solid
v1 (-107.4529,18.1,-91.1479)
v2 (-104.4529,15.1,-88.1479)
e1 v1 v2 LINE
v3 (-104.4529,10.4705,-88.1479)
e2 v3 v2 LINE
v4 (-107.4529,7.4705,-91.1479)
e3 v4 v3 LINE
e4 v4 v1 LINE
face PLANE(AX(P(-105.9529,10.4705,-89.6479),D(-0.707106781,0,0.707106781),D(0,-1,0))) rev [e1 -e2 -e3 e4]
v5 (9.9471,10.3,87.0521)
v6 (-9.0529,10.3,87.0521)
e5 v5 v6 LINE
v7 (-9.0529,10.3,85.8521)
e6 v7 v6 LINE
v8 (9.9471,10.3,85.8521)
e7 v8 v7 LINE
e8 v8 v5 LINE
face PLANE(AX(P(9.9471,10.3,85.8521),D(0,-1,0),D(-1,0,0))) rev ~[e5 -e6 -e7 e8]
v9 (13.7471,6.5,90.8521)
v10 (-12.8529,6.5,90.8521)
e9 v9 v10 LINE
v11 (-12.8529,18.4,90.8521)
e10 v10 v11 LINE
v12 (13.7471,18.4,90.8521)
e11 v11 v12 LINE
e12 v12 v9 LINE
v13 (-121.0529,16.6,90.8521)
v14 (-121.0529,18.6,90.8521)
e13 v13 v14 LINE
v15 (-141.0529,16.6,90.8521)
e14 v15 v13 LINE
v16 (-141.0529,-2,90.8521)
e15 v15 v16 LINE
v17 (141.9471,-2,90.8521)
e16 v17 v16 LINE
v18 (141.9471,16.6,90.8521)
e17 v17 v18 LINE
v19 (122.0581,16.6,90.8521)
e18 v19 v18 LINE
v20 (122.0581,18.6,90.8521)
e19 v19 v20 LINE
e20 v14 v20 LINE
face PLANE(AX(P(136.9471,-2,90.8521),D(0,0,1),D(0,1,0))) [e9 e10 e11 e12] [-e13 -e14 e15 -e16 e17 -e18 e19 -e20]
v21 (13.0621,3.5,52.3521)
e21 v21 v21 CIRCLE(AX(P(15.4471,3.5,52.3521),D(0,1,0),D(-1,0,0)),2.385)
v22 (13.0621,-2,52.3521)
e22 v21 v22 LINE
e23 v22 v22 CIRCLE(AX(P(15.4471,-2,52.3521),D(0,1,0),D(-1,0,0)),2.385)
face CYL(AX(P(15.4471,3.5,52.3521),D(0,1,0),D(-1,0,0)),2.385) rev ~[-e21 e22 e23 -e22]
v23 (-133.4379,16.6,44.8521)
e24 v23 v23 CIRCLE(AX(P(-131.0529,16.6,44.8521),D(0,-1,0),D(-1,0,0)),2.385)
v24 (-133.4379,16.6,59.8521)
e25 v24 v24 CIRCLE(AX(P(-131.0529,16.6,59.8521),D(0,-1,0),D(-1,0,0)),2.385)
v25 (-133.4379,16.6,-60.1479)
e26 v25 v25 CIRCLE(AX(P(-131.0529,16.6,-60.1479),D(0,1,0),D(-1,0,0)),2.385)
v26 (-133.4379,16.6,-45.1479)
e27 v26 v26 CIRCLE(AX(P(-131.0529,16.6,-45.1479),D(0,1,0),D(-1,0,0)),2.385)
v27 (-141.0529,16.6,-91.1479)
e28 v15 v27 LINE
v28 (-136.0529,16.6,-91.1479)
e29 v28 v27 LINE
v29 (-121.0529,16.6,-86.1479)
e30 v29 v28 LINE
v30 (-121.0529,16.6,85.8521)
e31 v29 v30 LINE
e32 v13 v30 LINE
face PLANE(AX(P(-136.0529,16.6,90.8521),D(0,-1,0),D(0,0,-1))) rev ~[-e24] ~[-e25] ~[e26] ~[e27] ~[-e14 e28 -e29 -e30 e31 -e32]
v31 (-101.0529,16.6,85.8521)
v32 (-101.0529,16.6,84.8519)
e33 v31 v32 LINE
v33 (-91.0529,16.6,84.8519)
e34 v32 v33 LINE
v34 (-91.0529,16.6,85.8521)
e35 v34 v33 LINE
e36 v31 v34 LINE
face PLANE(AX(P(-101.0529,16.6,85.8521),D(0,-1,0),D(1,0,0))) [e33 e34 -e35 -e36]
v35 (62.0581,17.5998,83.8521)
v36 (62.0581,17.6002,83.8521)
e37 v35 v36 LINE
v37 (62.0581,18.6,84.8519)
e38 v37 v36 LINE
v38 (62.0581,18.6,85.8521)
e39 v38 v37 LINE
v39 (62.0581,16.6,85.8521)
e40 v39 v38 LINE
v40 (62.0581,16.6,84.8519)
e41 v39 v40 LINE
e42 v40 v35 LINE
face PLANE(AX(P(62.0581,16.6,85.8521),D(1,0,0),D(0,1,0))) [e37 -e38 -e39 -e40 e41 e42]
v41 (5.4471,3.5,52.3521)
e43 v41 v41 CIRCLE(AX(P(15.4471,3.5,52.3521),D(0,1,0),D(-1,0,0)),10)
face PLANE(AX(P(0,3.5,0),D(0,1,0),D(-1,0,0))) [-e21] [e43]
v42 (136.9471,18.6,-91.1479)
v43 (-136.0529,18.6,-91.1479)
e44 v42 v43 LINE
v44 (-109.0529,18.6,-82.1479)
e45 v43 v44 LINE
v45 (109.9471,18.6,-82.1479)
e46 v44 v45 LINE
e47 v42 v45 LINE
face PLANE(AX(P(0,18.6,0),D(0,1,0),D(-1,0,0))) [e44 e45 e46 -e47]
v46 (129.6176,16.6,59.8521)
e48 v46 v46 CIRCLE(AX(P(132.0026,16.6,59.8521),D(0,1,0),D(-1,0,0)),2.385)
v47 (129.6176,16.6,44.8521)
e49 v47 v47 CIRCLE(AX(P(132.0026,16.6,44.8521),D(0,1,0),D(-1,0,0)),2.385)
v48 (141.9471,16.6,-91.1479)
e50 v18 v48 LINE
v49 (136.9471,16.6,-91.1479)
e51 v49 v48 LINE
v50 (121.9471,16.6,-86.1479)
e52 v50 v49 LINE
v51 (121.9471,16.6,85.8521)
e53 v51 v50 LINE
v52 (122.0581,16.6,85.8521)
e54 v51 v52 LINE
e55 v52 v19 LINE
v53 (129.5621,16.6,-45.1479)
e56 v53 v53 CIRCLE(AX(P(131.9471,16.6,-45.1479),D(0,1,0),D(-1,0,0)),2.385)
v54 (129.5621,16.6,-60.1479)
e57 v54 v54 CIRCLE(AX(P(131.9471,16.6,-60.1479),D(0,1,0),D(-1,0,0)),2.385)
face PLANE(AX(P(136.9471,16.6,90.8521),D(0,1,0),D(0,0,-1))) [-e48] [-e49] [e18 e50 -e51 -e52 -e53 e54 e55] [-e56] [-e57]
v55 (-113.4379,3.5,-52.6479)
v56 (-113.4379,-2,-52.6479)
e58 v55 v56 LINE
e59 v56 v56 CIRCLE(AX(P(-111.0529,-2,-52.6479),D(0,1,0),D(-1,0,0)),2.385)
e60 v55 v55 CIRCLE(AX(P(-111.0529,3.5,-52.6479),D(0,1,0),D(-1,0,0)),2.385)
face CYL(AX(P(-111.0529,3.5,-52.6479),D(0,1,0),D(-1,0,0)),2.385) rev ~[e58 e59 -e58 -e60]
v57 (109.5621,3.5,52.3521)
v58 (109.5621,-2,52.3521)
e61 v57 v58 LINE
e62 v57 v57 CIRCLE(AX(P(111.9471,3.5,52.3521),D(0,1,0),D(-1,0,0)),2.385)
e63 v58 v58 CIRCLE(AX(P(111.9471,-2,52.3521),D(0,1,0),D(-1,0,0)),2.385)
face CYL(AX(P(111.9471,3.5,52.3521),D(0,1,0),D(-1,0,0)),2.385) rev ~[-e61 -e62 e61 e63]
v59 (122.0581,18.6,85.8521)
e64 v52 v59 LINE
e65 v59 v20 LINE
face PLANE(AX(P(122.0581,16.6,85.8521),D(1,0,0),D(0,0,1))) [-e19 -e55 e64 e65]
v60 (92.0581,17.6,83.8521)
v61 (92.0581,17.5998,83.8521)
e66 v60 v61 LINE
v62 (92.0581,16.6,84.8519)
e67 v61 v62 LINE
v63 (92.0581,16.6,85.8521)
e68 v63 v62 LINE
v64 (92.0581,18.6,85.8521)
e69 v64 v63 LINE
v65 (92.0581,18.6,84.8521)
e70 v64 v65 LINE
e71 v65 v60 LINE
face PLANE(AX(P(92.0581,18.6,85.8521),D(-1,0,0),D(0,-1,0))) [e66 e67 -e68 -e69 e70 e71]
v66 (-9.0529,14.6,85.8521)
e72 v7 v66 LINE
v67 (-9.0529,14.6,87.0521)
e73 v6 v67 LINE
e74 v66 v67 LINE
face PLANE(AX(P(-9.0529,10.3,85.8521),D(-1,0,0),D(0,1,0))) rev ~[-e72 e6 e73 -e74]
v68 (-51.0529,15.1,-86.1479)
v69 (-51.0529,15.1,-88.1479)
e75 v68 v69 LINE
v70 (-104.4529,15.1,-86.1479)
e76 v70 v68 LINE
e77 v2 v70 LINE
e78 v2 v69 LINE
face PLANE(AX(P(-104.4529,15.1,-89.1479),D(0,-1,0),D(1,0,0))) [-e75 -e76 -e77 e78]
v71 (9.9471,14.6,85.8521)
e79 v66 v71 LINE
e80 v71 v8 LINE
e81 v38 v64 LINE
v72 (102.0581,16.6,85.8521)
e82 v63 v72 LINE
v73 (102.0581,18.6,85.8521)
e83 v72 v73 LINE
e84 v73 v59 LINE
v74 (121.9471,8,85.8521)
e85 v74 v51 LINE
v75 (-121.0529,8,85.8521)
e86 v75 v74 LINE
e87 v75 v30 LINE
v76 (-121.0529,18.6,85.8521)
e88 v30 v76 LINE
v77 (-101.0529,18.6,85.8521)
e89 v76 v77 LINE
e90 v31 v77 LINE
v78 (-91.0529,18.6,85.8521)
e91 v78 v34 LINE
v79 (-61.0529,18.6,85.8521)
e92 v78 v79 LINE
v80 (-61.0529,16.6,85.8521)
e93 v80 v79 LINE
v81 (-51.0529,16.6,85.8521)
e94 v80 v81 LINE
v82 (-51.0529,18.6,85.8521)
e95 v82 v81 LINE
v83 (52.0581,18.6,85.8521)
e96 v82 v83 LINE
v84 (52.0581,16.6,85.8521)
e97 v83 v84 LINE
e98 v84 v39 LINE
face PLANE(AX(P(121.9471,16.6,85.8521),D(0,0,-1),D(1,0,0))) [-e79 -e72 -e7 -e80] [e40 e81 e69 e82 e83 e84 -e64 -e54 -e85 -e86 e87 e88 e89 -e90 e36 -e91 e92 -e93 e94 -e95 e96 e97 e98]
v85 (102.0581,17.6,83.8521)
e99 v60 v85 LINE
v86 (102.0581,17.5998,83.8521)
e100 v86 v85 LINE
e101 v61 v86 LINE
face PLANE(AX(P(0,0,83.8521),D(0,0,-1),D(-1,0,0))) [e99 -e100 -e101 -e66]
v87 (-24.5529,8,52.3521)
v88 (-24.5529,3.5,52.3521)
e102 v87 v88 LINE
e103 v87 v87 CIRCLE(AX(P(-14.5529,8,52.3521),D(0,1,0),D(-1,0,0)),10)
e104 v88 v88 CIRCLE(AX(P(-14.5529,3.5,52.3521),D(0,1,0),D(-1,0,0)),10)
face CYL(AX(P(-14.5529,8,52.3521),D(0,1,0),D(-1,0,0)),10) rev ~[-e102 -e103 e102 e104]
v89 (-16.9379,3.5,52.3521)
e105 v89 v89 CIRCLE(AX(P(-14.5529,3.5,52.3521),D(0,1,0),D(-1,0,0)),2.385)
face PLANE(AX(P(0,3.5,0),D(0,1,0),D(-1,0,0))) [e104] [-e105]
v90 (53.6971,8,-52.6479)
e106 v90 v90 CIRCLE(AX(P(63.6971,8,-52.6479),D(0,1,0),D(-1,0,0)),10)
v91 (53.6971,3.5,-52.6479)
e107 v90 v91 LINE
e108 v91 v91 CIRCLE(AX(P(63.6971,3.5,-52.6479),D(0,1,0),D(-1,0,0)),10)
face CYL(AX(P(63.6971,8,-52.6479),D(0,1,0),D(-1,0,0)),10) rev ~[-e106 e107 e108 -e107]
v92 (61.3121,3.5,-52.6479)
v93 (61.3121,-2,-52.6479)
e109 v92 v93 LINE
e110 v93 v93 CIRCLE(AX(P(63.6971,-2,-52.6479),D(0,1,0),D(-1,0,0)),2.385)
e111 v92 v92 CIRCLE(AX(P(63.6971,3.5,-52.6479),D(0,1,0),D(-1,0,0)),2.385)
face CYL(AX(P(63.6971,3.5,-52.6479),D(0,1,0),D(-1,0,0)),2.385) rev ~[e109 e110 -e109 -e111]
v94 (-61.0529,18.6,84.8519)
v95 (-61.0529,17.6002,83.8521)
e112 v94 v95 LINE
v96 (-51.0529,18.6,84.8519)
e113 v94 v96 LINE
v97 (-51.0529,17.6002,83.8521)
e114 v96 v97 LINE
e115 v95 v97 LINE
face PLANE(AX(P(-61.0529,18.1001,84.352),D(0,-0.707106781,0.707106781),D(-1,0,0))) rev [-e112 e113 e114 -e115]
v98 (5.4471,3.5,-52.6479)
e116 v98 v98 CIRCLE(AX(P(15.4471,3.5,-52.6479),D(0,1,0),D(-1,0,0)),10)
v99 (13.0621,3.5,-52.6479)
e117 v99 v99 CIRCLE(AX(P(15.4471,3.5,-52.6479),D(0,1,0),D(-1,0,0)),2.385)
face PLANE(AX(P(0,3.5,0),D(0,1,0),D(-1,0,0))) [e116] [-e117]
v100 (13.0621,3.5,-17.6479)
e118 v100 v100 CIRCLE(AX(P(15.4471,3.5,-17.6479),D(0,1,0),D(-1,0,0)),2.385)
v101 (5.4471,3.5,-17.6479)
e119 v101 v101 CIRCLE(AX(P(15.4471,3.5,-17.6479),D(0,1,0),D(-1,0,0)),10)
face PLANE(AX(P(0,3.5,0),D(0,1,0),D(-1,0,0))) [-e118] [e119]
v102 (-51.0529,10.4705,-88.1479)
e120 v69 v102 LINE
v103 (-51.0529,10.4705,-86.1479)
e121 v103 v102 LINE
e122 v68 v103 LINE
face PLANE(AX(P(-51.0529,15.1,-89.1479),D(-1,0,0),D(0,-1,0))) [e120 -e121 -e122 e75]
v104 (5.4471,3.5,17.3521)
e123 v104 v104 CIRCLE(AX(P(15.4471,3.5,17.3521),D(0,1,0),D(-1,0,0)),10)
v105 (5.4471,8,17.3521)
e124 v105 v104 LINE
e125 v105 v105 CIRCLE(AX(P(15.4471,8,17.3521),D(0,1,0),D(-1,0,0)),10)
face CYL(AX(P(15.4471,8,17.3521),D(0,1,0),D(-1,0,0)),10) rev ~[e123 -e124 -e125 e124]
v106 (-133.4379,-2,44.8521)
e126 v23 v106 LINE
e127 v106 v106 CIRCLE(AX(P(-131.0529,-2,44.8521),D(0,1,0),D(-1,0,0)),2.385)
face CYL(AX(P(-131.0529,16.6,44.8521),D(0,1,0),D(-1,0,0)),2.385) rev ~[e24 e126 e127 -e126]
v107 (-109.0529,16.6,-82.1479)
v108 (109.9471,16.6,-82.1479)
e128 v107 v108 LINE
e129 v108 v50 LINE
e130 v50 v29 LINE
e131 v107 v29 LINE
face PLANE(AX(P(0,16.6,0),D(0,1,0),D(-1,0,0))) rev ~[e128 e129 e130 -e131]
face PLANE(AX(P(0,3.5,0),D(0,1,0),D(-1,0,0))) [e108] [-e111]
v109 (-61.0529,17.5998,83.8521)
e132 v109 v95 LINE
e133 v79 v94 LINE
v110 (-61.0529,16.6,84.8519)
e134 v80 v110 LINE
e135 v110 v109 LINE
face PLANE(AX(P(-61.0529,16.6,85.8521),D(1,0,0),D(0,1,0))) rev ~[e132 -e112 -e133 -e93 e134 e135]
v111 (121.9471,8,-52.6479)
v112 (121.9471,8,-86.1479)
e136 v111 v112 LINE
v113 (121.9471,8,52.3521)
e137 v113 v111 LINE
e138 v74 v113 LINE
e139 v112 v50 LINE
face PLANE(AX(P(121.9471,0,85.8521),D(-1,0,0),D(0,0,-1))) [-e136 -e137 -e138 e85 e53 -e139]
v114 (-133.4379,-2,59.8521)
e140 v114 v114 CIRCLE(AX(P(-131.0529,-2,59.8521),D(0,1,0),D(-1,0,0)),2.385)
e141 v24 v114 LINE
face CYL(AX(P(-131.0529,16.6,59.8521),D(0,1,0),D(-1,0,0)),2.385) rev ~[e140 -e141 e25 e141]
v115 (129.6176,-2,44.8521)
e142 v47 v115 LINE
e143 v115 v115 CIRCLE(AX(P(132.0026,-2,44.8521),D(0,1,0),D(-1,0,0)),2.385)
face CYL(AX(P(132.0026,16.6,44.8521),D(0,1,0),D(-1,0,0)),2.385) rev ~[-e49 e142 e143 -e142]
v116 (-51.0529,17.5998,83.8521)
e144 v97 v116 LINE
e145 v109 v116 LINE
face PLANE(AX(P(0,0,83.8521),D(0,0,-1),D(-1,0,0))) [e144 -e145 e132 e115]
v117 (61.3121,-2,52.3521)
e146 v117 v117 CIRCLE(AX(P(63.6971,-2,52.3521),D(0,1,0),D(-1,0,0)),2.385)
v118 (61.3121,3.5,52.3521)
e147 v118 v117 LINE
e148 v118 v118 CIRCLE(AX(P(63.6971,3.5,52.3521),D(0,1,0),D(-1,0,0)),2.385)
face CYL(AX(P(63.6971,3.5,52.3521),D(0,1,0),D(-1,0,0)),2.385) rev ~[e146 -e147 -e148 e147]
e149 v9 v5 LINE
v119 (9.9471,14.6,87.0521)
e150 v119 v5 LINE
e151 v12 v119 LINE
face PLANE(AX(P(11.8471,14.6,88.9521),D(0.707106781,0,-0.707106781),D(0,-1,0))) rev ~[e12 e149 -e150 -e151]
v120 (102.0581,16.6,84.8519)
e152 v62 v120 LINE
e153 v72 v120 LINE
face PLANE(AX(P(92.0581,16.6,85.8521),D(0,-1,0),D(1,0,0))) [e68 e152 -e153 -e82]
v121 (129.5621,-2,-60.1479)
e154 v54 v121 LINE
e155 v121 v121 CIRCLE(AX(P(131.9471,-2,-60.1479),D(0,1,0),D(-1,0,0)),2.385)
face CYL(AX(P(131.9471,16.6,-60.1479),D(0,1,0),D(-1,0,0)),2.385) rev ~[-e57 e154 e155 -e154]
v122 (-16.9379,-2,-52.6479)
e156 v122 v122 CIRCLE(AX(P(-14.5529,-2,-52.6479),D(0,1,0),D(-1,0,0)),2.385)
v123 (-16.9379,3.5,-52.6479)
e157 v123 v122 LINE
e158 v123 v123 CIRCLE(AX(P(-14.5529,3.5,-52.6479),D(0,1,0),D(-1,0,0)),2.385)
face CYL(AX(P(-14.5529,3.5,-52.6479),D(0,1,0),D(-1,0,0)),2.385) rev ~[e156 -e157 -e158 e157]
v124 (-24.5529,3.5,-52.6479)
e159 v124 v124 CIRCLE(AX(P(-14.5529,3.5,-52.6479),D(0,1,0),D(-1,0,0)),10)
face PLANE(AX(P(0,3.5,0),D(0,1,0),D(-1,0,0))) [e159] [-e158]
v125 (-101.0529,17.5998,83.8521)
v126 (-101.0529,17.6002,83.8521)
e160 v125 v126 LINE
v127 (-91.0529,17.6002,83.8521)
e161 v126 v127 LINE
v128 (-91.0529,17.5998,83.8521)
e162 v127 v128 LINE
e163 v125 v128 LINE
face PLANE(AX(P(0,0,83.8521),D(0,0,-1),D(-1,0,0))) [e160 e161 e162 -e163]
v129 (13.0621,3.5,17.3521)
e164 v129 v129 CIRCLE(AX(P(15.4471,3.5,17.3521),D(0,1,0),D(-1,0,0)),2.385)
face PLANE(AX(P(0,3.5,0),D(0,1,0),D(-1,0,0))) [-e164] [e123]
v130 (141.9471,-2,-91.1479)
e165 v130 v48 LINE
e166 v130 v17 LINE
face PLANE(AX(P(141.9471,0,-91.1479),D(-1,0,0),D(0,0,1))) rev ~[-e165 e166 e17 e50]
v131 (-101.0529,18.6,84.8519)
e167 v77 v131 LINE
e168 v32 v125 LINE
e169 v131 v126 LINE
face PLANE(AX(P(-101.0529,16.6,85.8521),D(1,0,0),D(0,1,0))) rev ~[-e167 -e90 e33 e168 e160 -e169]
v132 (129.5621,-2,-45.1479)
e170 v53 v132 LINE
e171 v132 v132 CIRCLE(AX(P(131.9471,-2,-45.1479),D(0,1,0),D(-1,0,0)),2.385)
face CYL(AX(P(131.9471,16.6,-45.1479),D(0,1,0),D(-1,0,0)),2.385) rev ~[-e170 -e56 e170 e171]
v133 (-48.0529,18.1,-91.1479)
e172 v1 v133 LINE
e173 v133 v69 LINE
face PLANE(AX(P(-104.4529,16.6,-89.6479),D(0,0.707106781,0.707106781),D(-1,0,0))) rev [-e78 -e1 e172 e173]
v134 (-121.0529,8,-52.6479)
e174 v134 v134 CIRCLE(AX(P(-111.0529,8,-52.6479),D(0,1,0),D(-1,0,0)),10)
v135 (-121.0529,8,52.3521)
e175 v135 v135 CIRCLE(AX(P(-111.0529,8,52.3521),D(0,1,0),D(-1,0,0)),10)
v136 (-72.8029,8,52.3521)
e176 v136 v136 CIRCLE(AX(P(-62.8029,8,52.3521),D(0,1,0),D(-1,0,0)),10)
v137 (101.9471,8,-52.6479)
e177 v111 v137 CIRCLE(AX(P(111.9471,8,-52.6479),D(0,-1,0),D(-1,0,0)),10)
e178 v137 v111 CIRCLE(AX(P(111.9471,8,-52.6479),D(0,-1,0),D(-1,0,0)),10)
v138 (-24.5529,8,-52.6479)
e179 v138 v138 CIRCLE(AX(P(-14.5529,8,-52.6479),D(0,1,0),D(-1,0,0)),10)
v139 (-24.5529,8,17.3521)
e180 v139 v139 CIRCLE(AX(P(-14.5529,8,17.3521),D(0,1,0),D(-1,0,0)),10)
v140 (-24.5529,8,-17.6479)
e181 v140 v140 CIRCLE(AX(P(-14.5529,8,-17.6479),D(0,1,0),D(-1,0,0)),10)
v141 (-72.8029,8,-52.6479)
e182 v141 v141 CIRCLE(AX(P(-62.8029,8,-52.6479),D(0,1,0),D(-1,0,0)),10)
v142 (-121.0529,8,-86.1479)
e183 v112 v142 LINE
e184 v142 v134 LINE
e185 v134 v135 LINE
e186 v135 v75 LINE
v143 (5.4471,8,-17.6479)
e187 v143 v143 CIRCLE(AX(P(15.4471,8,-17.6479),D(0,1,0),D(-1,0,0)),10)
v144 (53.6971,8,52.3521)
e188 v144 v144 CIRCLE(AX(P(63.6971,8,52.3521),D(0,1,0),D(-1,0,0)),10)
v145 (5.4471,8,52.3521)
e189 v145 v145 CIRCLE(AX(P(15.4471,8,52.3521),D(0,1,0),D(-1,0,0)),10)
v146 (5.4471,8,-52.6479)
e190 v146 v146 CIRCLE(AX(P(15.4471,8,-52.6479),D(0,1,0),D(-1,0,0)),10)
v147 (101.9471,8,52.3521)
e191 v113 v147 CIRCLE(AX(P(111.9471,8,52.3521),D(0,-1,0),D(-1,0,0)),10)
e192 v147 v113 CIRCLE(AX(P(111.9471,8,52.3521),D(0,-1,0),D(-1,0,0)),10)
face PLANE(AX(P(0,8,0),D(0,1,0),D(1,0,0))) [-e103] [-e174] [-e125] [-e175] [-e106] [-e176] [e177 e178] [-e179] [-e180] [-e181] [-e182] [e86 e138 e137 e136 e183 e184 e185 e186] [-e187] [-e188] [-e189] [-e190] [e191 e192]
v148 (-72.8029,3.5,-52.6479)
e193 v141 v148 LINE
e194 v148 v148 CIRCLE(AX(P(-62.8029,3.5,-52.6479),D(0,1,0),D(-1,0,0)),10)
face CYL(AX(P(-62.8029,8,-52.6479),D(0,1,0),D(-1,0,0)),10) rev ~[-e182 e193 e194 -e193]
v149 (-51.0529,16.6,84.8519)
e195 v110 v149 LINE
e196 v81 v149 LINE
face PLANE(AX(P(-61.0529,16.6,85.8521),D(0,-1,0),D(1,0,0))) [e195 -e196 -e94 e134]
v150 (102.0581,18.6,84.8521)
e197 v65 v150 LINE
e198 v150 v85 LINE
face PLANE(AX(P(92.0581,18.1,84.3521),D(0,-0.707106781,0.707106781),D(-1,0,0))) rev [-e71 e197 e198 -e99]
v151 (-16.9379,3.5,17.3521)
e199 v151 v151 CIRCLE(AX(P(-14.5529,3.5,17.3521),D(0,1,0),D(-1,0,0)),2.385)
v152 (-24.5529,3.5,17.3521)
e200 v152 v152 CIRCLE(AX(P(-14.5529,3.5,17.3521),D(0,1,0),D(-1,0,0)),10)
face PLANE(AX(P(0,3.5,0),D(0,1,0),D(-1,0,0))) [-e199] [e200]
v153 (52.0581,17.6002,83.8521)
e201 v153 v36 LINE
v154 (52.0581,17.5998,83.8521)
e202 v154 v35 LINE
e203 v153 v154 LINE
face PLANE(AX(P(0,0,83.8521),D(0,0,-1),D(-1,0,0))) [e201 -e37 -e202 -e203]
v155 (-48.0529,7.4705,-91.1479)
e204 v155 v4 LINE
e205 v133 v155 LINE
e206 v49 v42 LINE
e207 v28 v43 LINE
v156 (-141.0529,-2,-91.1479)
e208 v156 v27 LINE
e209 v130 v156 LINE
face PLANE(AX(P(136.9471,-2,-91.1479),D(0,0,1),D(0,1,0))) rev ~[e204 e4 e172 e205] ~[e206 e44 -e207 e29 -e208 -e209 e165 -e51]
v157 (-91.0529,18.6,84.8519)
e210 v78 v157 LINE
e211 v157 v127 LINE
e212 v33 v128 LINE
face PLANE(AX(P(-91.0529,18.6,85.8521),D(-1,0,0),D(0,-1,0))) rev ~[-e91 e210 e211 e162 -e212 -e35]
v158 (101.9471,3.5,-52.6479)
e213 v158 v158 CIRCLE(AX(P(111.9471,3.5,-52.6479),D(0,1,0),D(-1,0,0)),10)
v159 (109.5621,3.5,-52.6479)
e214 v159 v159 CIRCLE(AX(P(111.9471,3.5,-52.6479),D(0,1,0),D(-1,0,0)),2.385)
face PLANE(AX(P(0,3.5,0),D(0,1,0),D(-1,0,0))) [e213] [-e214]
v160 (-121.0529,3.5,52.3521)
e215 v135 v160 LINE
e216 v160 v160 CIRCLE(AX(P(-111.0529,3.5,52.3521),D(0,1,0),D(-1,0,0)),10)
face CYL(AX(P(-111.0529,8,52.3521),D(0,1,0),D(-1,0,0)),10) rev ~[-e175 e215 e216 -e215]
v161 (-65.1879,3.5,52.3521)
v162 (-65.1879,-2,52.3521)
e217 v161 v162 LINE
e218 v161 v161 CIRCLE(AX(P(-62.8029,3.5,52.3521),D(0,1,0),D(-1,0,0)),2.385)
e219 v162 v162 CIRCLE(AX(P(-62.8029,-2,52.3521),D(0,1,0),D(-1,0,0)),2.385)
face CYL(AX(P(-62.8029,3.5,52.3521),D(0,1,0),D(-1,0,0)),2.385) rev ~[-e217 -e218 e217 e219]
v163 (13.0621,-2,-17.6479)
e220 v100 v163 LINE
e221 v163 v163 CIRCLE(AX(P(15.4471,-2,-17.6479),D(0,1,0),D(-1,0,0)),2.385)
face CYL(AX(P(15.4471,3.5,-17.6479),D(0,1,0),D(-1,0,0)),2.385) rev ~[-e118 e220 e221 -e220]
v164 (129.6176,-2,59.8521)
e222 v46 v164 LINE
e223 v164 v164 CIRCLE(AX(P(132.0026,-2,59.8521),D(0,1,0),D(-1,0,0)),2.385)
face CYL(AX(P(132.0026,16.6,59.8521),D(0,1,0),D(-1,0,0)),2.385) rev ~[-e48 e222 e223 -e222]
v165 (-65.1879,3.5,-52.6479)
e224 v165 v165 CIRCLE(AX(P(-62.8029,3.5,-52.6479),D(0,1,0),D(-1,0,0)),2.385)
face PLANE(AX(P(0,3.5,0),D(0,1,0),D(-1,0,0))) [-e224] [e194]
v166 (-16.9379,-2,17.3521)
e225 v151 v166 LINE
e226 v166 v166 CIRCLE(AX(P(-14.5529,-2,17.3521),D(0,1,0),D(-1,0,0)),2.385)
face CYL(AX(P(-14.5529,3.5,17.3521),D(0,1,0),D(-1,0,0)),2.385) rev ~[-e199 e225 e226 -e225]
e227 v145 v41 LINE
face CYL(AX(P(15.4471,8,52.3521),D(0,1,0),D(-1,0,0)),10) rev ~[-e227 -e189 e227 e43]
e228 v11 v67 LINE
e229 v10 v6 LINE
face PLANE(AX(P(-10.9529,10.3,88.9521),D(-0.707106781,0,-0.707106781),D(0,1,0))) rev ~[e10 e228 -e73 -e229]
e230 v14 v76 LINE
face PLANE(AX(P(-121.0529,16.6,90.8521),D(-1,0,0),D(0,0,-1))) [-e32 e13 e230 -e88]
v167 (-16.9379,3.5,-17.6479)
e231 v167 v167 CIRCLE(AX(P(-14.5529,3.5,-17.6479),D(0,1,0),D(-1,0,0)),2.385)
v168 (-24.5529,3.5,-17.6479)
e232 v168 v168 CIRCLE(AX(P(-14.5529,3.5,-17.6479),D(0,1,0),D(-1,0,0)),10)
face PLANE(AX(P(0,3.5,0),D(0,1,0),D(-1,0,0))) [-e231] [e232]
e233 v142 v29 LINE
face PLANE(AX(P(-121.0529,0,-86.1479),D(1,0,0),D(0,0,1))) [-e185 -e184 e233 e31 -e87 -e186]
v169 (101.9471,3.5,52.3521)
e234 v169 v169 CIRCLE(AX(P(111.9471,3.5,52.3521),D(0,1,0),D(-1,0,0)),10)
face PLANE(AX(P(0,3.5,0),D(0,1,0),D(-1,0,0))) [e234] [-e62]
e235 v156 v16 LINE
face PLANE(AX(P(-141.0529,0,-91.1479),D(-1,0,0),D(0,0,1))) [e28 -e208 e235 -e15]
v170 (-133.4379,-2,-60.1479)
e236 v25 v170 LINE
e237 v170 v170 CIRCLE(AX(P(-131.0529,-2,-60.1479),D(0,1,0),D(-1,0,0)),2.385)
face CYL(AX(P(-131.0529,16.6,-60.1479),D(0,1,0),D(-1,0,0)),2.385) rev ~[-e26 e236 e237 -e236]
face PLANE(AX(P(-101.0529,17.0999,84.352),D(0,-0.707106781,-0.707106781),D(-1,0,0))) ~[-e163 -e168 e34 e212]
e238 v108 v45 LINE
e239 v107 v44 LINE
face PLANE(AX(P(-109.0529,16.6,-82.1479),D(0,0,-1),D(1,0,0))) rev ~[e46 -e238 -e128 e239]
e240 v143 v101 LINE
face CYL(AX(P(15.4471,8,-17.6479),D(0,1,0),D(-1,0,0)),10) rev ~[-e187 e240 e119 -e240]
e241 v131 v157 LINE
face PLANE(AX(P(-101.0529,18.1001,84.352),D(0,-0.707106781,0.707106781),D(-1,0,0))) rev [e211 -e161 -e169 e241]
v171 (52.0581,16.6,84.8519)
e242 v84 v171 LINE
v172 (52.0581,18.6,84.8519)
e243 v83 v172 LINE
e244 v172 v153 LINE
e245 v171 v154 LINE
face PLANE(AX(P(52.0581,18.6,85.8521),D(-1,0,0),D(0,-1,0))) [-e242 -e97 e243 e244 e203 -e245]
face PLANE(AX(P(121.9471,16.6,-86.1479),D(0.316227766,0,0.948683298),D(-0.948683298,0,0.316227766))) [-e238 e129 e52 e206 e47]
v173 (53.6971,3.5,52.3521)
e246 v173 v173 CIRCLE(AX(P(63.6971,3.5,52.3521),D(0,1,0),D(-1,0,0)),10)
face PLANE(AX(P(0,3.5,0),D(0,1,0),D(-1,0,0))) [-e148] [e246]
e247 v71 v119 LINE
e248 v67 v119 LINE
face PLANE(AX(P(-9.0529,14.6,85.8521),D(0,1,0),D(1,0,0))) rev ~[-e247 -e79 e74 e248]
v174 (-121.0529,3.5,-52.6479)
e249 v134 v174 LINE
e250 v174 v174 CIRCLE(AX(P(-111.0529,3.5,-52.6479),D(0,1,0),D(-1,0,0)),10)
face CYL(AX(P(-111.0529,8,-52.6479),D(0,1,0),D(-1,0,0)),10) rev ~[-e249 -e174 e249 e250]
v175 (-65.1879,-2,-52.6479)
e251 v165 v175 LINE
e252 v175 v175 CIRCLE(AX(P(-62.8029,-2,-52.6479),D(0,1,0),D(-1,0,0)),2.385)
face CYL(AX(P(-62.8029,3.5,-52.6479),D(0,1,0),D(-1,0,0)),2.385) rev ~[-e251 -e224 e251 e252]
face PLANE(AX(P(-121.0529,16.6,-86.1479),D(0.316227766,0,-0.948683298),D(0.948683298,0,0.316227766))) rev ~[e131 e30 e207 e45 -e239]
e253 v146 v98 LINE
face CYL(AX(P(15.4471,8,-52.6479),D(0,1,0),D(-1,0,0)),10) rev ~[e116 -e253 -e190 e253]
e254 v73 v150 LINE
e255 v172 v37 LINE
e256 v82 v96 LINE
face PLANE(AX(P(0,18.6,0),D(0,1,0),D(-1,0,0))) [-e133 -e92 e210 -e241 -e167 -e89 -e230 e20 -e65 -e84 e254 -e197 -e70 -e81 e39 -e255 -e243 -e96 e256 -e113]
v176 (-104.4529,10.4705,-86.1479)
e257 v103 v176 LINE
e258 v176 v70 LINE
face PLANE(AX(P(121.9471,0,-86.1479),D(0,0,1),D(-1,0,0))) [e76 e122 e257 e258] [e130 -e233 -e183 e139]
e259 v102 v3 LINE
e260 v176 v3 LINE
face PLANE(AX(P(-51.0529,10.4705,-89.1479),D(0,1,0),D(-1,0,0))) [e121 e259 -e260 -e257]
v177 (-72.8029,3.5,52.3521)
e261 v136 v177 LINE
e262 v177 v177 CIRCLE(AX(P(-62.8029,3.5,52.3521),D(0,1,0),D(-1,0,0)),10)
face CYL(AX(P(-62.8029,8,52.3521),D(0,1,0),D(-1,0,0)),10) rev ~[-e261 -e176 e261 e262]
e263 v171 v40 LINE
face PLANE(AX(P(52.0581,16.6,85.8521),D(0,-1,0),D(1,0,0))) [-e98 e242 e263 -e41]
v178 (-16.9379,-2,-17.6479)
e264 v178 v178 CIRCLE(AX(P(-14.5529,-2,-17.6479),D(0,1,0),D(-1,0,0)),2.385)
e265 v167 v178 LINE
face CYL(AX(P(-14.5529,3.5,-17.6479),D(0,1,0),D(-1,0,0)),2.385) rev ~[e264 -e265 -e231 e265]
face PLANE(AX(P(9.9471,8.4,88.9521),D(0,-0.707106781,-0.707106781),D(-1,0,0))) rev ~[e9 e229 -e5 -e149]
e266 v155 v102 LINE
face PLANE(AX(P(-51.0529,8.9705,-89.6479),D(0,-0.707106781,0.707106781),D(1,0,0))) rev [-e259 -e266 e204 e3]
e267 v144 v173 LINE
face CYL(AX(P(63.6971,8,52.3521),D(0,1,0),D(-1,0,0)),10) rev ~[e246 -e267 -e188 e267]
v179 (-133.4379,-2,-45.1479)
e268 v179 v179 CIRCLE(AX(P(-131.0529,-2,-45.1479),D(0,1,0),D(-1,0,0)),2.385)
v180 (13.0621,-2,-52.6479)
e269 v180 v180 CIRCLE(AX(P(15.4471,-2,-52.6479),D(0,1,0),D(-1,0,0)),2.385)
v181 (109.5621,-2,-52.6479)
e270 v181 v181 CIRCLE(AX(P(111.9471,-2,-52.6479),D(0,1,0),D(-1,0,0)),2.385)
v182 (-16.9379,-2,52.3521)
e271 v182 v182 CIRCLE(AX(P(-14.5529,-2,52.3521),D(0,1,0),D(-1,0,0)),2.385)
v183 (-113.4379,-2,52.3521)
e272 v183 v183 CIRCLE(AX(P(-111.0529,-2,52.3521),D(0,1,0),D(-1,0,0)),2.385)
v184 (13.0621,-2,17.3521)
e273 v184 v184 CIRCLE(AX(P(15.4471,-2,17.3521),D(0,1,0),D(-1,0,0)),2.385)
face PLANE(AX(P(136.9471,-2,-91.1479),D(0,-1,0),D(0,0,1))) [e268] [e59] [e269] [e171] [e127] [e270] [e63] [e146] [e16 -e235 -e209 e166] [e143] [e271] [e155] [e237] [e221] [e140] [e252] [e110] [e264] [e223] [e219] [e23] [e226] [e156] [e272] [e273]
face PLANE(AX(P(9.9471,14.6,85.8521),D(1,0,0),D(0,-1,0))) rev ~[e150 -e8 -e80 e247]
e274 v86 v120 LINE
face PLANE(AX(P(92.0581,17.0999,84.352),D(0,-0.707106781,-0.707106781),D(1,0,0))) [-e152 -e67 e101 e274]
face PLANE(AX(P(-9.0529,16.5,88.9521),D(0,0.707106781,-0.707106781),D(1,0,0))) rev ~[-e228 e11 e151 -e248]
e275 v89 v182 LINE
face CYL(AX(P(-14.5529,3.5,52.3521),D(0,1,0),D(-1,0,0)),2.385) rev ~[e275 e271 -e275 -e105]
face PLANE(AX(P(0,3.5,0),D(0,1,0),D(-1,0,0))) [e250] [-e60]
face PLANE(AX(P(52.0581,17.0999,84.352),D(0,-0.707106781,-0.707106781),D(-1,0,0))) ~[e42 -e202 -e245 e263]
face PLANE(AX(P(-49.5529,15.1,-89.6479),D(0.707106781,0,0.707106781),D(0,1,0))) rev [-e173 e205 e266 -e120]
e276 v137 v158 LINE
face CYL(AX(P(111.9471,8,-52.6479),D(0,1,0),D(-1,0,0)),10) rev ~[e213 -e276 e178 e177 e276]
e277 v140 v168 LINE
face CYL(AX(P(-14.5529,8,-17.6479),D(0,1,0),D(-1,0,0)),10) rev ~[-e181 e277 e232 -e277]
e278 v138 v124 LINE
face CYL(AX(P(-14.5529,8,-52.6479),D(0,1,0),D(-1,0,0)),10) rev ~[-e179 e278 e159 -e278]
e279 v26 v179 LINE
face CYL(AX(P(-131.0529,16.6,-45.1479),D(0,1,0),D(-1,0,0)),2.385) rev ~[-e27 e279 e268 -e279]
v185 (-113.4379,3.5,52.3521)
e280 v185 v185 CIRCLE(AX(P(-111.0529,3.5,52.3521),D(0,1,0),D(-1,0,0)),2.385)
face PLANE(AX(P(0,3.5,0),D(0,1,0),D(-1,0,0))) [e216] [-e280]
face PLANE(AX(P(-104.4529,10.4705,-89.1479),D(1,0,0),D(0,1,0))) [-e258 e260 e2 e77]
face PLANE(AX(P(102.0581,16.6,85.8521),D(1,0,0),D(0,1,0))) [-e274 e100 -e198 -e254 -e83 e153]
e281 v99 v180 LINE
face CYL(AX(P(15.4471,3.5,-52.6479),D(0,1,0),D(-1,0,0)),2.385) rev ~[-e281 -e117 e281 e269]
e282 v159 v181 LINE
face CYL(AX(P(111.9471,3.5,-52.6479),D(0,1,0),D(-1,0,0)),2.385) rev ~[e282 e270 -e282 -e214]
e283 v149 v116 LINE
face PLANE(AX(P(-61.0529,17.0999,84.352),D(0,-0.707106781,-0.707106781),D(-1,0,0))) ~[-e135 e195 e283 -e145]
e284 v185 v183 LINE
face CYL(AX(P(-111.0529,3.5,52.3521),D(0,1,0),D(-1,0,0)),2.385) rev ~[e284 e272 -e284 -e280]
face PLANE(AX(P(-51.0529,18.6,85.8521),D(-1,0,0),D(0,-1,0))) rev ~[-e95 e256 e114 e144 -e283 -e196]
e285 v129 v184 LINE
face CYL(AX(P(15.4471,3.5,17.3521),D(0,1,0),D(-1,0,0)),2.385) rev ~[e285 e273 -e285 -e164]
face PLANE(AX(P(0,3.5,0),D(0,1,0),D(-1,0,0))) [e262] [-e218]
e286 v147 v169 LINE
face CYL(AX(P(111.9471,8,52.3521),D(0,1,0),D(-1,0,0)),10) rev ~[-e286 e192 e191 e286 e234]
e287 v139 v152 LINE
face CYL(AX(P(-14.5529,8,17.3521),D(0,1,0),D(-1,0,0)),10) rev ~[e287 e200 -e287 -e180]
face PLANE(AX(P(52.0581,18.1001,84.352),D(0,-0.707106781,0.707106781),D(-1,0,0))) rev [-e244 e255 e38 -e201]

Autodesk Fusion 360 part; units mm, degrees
sketch "Sketch1" plane through (0, 0, 0) normal (0, 1, 0) x (1, 0, 0)
  line L0 (-121.0529, -85.8521) -> (121.9471, -85.8521)
  line L1 (121.9471, -85.8521) -> (121.9471, 86.1479)
  line L2 (121.9471, 86.1479) -> (-121.0529, 86.1479)
  line L3 (-121.0529, 86.1479) -> (-121.0529, -85.8521)
  line L4 (-121.0529, -85.8521) -> (-121.0529, 86.1479)
  line L5 (121.9471, 86.1479) -> (-121.0529, 86.1479)
  line L6 (-121.0529, 86.1479) -> (-121.0529, 91.1479)
  line L7 (-121.0529, 91.1479) -> (121.9471, 91.1479)
  line L8 (121.9471, 91.1479) -> (121.9471, 86.1479)
  line L9 (-121.0529, -85.8521) -> (121.9471, -85.8521)
  line L10 (121.9471, -85.8521) -> (121.9471, -90.8521)
  line L11 (121.9471, -90.8521) -> (-121.0529, -90.8521)
  line L12 (-121.0529, -90.8521) -> (-121.0529, -85.8521)
  line L13 (121.9471, 86.1479) -> (136.9471, 86.1479)
  line L14 (136.9471, 86.1479) -> (136.9471, -85.8521)
  line L15 (136.9471, -85.8521) -> (121.9471, -85.8521)
  line L16 (121.9471, -85.8521) -> (121.9471, 86.1479)
  line L17 (-121.0529, 86.1479) -> (-136.0529, 86.1479)
  line L18 (-136.0529, 86.1479) -> (-136.0529, -85.8521)
  line L19 (-136.0529, -85.8521) -> (-121.0529, -85.8521)
  line L20 (-121.0529, -85.8521) -> (-121.0529, 86.1479)
  line L21 (-121.0529, 91.1479) -> (-136.0529, 91.1479)
  line L22 (-136.0529, 91.1479) -> (-136.0529, 86.1479)
  line L23 (-136.0529, 86.1479) -> (-121.0529, 86.1479)
  line L24 (-121.0529, 86.1479) -> (-121.0529, 91.1479)
  line L25 (-136.0529, -85.8521) -> (-121.0529, -85.8521)
  line L26 (-121.0529, -85.8521) -> (-121.0529, -90.8521)
  line L27 (-121.0529, -90.8521) -> (-136.0529, -90.8521)
  line L28 (-136.0529, -90.8521) -> (-136.0529, -85.8521)
  line L29 (136.9471, -85.8521) -> (121.9471, -85.8521)
  line L30 (121.9471, -85.8521) -> (121.9471, -90.8521)
  line L31 (121.9471, -90.8521) -> (136.9471, -90.8521)
  line L32 (136.9471, -90.8521) -> (136.9471, -85.8521)
  line L33 (121.9471, 91.1479) -> (136.9471, 91.1479)
  line L34 (136.9471, 91.1479) -> (136.9471, 86.1479)
  line L35 (136.9471, 86.1479) -> (121.9471, 86.1479)
  line L36 (121.9471, 86.1479) -> (121.9471, 91.1479)
extrude "Extrude1" add sketch "Sketch1" along normal blind 8 contours L0 L1 L2 L3 L4 L5 L9 L16 L20 makes body 1
extrude "Extrude2" add sketch "Sketch1" along normal blind 16.6 separate body contours L3 L4 L17 L18 L19 L20 L23 L25 | L0 L9 L10 L11 L12 L26 L30 | L12 L19 L25 L26 L27 L28 | L10 L15 L29 L30 L31 L32 | L1 L13 L14 L15 L16 L29 L35 | L2 L5 L6 L7 L8 L24 L36 | L6 L17 L21 L22 L23 L24 | L8 L13 L33 L34 L35 L36 makes body 2
sketch "Top Lid" plane through (0, 16.6, 0) normal (0, 1, 0) x (-1, 0, 0)
  line L0 (-121.9471, -86.1479) -> (-121.9471, 85.8521)
  line L1 (-121.9471, 85.8521) -> (121.0529, 85.8521)
  line L2 (121.0529, 85.8521) -> (121.0529, -86.1479)
  line L3 (121.0529, -86.1479) -> (-121.9471, -86.1479)
  line L4 (-136.9471, -91.1479) -> (136.0529, -91.1479)
  line L5 (136.0529, -91.1479) -> (136.0529, 90.8521)
  line L6 (136.0529, 90.8521) -> (-136.9471, 90.8521)
  line L7 (-136.9471, 90.8521) -> (-136.9471, -91.1479)
  line L8 (-136.9471, -91.1479) -> (-121.9471, -86.1479)
  line L9 (-121.9471, -86.1479) -> (-109.9471, -82.1479)
  line L10 (136.0529, -91.1479) -> (121.0529, -86.1479)
  line L11 (121.0529, -86.1479) -> (109.0529, -82.1479)
  line L12 (109.0529, -82.1479) -> (-109.9471, -82.1479)
  line L13 (136.0529, -91.1479) -> (-136.9471, -91.1479)
extrude "Extrude3" add sketch "Top Lid" along normal blind 2 separate body contours L3 L9 L11 L12 | L3 L4 L8 L10 L13 makes body 3
sketch "Sketch3" plane through (0, 16.6, 0) normal (0, 1, 0) x (-1, 0, 0)
  line L0 (-121.9471, -86.1479) -> (-121.9471, 85.8521)
  line L1 (-121.9471, 85.8521) -> (121.0529, 85.8521)
  line L2 (121.0529, 85.8521) -> (121.0529, -86.1479)
  line L3 (121.0529, -86.1479) -> (-121.9471, -86.1479)
  line L4 (-136.9471, -91.1479) -> (136.0529, -91.1479)
  line L5 (136.0529, -91.1479) -> (136.0529, 90.8521)
  line L6 (136.0529, 90.8521) -> (-136.9471, 90.8521)
  line L7 (-136.9471, 90.8521) -> (-136.9471, -91.1479)
  line L8 (121.0529, 85.8521) -> (-122.0581, 85.8521)
  line L9 (-122.0581, 85.8521) -> (-122.0581, 90.8521)
  line L10 (-122.0581, 90.8521) -> (121.0529, 90.8521)
  line L11 (121.0529, 90.8521) -> (121.0529, 85.8521)
extrude "Extrude4" add sketch "Sketch3" along normal blind 2 contours L1 L6 L8 L9 L10 L11 bodies 2
sketch "Tab Wall" plane through (0, 0, 85.8521) normal (0, 0, -1) x (-1, 0, 0)
  line L0 (-121.9471, 0) -> (121.0529, 0)
  line L1 (121.0529, 0) -> (121.0529, 16.6)
  line L2 (121.0529, 16.6) -> (121.0529, 18.6)
  line L3 (121.0529, 18.6) -> (-122.0581, 18.6)
  line L4 (-122.0581, 18.6) -> (-122.0581, 16.6)
  line L5 (-122.0581, 16.6) -> (-121.9471, 16.6)
  line L6 (-121.9471, 16.6) -> (-121.9471, 0)
  line L7 (-122.0581, 18.6) -> (121.0529, 18.6)
  line L8 (121.0529, 18.6) -> (121.0529, 16.6)
  line L9 (121.0529, 16.6) -> (-122.0581, 16.6)
  line L10 (-122.0581, 16.6) -> (-122.0581, 18.6)
  line L11 (-122.0581, 18.6) -> (-102.0581, 18.6)
  line L12 (-102.0581, 18.6) -> (-92.0581, 18.6)
  line L13 (-92.0581, 18.6) -> (-92.0581, 16.6)
  line L14 (-92.0581, 16.6) -> (-102.0581, 16.6)
  line L15 (-102.0581, 16.6) -> (-102.0581, 18.6)
  line L16 (121.0529, 18.6) -> (101.0529, 18.6)
  line L17 (101.0529, 18.6) -> (91.0529, 18.6)
  line L18 (91.0529, 18.6) -> (91.0529, 16.6)
  line L19 (91.0529, 16.6) -> (101.0529, 16.6)
  line L20 (101.0529, 16.6) -> (101.0529, 18.6)
  line L21 (-92.0581, 18.6) -> (-62.0581, 18.6)
  line L22 (-62.0581, 18.6) -> (-52.0581, 18.6)
  line L23 (-52.0581, 18.6) -> (-52.0581, 16.6)
  line L24 (-52.0581, 16.6) -> (-62.0581, 16.6)
  line L25 (-62.0581, 16.6) -> (-62.0581, 18.6)
  line L26 (91.0529, 18.6) -> (61.0529, 18.6)
  line L27 (61.0529, 18.6) -> (51.0529, 18.6)
  line L28 (51.0529, 18.6) -> (51.0529, 16.6)
  line L29 (51.0529, 16.6) -> (61.0529, 16.6)
  line L30 (61.0529, 16.6) -> (61.0529, 18.6)
  dimension "d22" = 20
  dimension "d23" = 10
  dimension "d24" = 20
  dimension "d25" = 10
  dimension "d26" = 30
  dimension "d27" = 10
  dimension "d28" = 30
  dimension "d29" = 10
extrude "Extrude5" add sketch "Tab Wall" along normal blind 2 separate body contours L3 L7 L9 L12 L13 L14 L15 | L3 L7 L9 L17 L18 L19 L20 | L3 L7 L9 L22 L23 L24 L25 | L3 L7 L9 L27 L28 L29 L30 makes body 4 at (55.3914, 18.6, 84.5188) makes body 5 at (-57.7196, 16.6, 84.5188) makes body 6 at (95.3914, 18.6, 84.5188) makes body 7 at (-97.7196, 16.6, 84.5188)
chamfer "Chamfer1" distance 1 angle 45 1 edges at (97.0581, 18.6, 83.8521) on bodies 6
chamfer "Chamfer2" distance 1 angle 45 7 edges at (-56.0529, 18.6, 83.8521) (-56.0529, 16.6, 83.8521) (97.0581, 16.6, 83.8521) (-96.0529, 18.6, 83.8521) (-96.0529, 16.6, 83.8521) (57.0581, 18.6, 83.8521) (57.0581, 16.6, 83.8521) on bodies 4 5 6 7
extrude "Extrude6" add 1 faces at (131.9471, 0, -28.8145) along direction (0, -1, 0) blind 2 on bodies 2 bodies 2 1
extrude "Extrude7" add 1 faces at (-40.0529, 0, -28.8145) along direction (0, -1, 0) blind 2 on bodies 2 bodies 2
sketch "Bottom Inner" plane through (0, 8, 0) normal (0, 1, 0) x (-1, 0, 0)
  line L0 (-121.9471, 85.8521) -> (-121.9471, -86.1479)
  line L1 (-121.9471, -86.1479) -> (121.0529, -86.1479)
  line L2 (121.0529, -86.1479) -> (121.0529, 85.8521)
  line L3 (121.0529, 85.8521) -> (-121.9471, 85.8521)
  line L4 (121.0529, -86.1479) -> (121.0529, -52.6479)
  line L5 (121.0529, -52.6479) -> (121.0529, -17.6479)
  line L6 (121.0529, -17.6479) -> (121.0529, 17.3521)
  line L7 (121.0529, 17.3521) -> (121.0529, 52.3521)
  line L8 (121.0529, 52.3521) -> (121.0529, 85.8521)
  line L9 (121.0529, -86.1479) -> (111.0529, -86.1479)
  line L10 (111.0529, -86.1479) -> (62.8029, -86.1479)
  line L11 (62.8029, -86.1479) -> (14.5529, -86.1479)
  line L12 (14.5529, -86.1479) -> (-15.4471, -86.1479)
  line L13 (-15.4471, -86.1479) -> (-63.6971, -86.1479)
  line L14 (-63.6971, -86.1479) -> (-111.9471, -86.1479)
  line L15 (-111.9471, -86.1479) -> (-121.9471, -86.1479)
  circle A0 centre (111.0529, -52.6479) radius 10
  circle A1 centre (62.8029, -52.6479) radius 10
  circle A2 centre (14.5529, -52.6479) radius 10
  circle A3 centre (-15.4471, -52.6479) radius 10
  circle A4 centre (-63.6971, -52.6479) radius 10
  circle A5 centre (-111.9471, -52.6479) radius 10
  circle A6 centre (14.5529, -17.6479) radius 10
  circle A7 centre (14.5529, 17.3521) radius 10
  circle A8 centre (14.5529, 52.3521) radius 10
  circle A9 centre (62.8029, 52.3521) radius 10
  circle A10 centre (111.0529, 52.3521) radius 10
  circle A11 centre (-15.4471, 52.3521) radius 10
  circle A12 centre (-63.6971, 52.3521) radius 10
  circle A13 centre (-111.9471, 52.3521) radius 10
  circle A14 centre (-15.4471, -17.6479) radius 10
  circle A15 centre (-15.4471, 17.3521) radius 10
  dimension "d43" = 10
  dimension "d44" = 48.25
  dimension "d45" = 48.25
  dimension "d46" = 30
  dimension "d47" = 48.25
  dimension "d48" = 48.25
  dimension "d49" = 20
  dimension "d50" = 20
  dimension "d51" = 20
  dimension "d52" = 20
  dimension "d53" = 20
  dimension "d54" = 20
  dimension "d55" = 20
  dimension "d56" = 20
  dimension "d57" = 20
  dimension "d58" = 20
  dimension "d59" = 20
  dimension "d60" = 20
  dimension "d61" = 20
  dimension "d62" = 20
  dimension "d63" = 20
  dimension "d64" = 20
extrude "Extrude8" cut sketch "Bottom Inner" against normal blind 4.5 contours A13 | A5 | A0 | A10 | A1 | A2 | A3 | A4 | A6 | A7 | A8 | A9 | A11 | A12 | A14 | A15 bodies 2
sketch "Sketch6" plane through (0, 3.5, 0) normal (0, 1, 0) x (-1, 0, 0)
  circle A0 centre (111.0529, -52.6479) radius 10
  circle A1 centre (111.0529, -52.6479) radius 2.385
  dimension "d67" = 4.77
extrude "Extrude9" cut sketch "Sketch6" against normal blind 20 contours A1 bodies 2
sketch "Sketch7" plane through (0, 3.5, 0) normal (0, 1, 0) x (-1, 0, 0)
  circle A0 centre (62.8029, -52.6479) radius 10
  circle A1 centre (62.8029, -52.6479) radius 2.385
  dimension "d70" = 4.77
extrude "Extrude10" cut sketch "Sketch7" against normal blind 20 contours A1 bodies 2
sketch "Sketch8" plane through (0, 3.5, 0) normal (0, 1, 0) x (-1, 0, 0)
  circle A0 centre (14.5529, -52.6479) radius 10
  circle A1 centre (14.5529, -52.6479) radius 2.385
  dimension "d73" = 4.77
extrude "Extrude11" cut sketch "Sketch8" against normal blind 22 contours A1 bodies 2
sketch "Sketch9" plane through (0, 3.5, 0) normal (0, 1, 0) x (-1, 0, 0)
  circle A0 centre (-15.4471, -52.6479) radius 10
  circle A1 centre (-15.4471, -52.6479) radius 2.385
  dimension "d76" = 4.77
extrude "Extrude12" cut sketch "Sketch9" against normal blind 20 contours A1 bodies 2
sketch "Sketch10" plane through (0, 3.5, 0) normal (0, 1, 0) x (-1, 0, 0)
  circle A0 centre (-63.6971, -52.6479) radius 10
  circle A1 centre (-63.6971, -52.6479) radius 2.385
  dimension "d79" = 4.77
extrude "Extrude13" cut sketch "Sketch10" against normal blind 20 contours A1 bodies 2
sketch "Sketch11" plane through (0, 3.5, 0) normal (0, 1, 0) x (-1, 0, 0)
  circle A0 centre (-111.9471, -52.6479) radius 10
  circle A1 centre (-111.9471, -52.6479) radius 2.385
  dimension "d82" = 4.77
extrude "Extrude14" cut sketch "Sketch11" against normal blind 20 contours A1 bodies 2
sketch "Sketch12" plane through (0, 3.5, 0) normal (0, 1, 0) x (-1, 0, 0)
  circle A0 centre (14.5529, -17.6479) radius 10
  circle A1 centre (14.5529, -17.6479) radius 2.385
  dimension "d85" = 4.77
extrude "Extrude15" cut sketch "Sketch12" against normal blind 20 contours A1 bodies 2
sketch "Sketch13" plane through (0, 0, 0) normal (0, 1, 0) x (1, 0, 0)
sketch "Sketch14" plane through (0, 3.5, 0) normal (0, 1, 0) x (-1, 0, 0)
  circle A0 centre (-15.4471, -17.6479) radius 10
  circle A1 centre (-15.4471, -17.6479) radius 2.385
  dimension "d88" = 4.77
extrude "Extrude16" cut sketch "Sketch14" against normal blind 20 contours A1 bodies 2
sketch "Sketch15" plane through (0, 3.5, 0) normal (0, 1, 0) x (-1, 0, 0)
  circle A0 centre (14.5529, 17.3521) radius 10
  circle A1 centre (14.5529, 17.3521) radius 2.385
  dimension "d91" = 4.77
extrude "Extrude17" cut sketch "Sketch15" against normal blind 20 contours A1 bodies 2
sketch "Sketch16" plane through (0, 3.5, 0) normal (0, 1, 0) x (-1, 0, 0)
  circle A0 centre (-15.4471, 17.3521) radius 10
  circle A1 centre (-15.4471, 17.3521) radius 2.385
  dimension "d94" = 4.77
extrude "Extrude18" cut sketch "Sketch16" against normal blind 20 contours A1 bodies 2
sketch "Sketch17" plane through (0, 3.5, 0) normal (0, 1, 0) x (-1, 0, 0)
  circle A0 centre (-15.4471, 52.3521) radius 10
  circle A1 centre (-15.4471, 52.3521) radius 2.385
  dimension "d97" = 4.77
extrude "Extrude19" cut sketch "Sketch17" against normal blind 20 contours A1 bodies 2
sketch "Sketch18" plane through (0, 3.5, 0) normal (0, 1, 0) x (-1, 0, 0)
  circle A0 centre (14.5529, 52.3521) radius 10
  circle A1 centre (14.5529, 52.3521) radius 2.385
  dimension "d100" = 4.77
extrude "Extrude20" cut sketch "Sketch18" against normal blind 20 contours A1 bodies 2
sketch "Sketch19" plane through (0, 3.5, 0) normal (0, 1, 0) x (-1, 0, 0)
  circle A0 centre (62.8029, 52.3521) radius 10
  circle A1 centre (62.8029, 52.3521) radius 2.385
  dimension "d103" = 4.77
extrude "Extrude21" cut sketch "Sketch19" against normal blind 20 contours A1 bodies 2
sketch "Sketch20" plane through (0, 3.5, 0) normal (0, 1, 0) x (-1, 0, 0)
  circle A0 centre (111.0529, 52.3521) radius 10
  circle A1 centre (111.0529, 52.3521) radius 2.385
  dimension "d106" = 4.77
extrude "Extrude22" cut sketch "Sketch20" against normal blind 20 contours A1 bodies 2
sketch "Sketch21" plane through (0, 3.5, 0) normal (0, 1, 0) x (-1, 0, 0)
  circle A0 centre (-63.6971, 52.3521) radius 10
  circle A1 centre (-63.6971, 52.3521) radius 2.385
  dimension "d109" = 4.77
extrude "Extrude23" cut sketch "Sketch21" against normal blind 20 contours A1 bodies 2
sketch "Sketch22" plane through (0, 3.5, 0) normal (0, 1, 0) x (-1, 0, 0)
  circle A0 centre (-111.9471, 52.3521) radius 10
  circle A1 centre (-111.9471, 52.3521) radius 2.385
  dimension "d112" = 4.77
extrude "Extrude24" cut sketch "Sketch22" against normal blind 20 contours A1 bodies 2
extrude "Extrude25" add 1 faces at (-136.0529, 10.4, 30.1855) along direction (-1, 0, 0) blind 5 on bodies 2 bodies 2 3
extrude "Extrude26" add 1 faces at (136.9471, 10.4, -30.4812) along direction (1, 0, 0) blind 5 on bodies 2 bodies 2
sketch "Sketch23" plane through (0, 16.6, 0) normal (0, 1, 0) x (-1, 0, 0)
  line L0 (121.0529, -86.1479) -> (136.0529, -91.1479)
  line L1 (136.0529, -91.1479) -> (141.0529, -91.1479)
  line L2 (141.0529, -91.1479) -> (141.0529, 90.8521)
  line L3 (141.0529, 90.8521) -> (121.0529, 90.8521)
  line L4 (121.0529, 90.8521) -> (121.0529, 85.8521)
  line L5 (121.0529, 85.8521) -> (121.0529, -86.1479)
  line L6 (141.0529, -91.1479) -> (131.0529, -91.1479)
  circle A0 centre (131.0529, -60.1479) radius 2.385
  circle A1 centre (131.0529, -45.1479) radius 2.385
  line L7 (141.0529, 90.8521) -> (131.0529, 90.8521)
  line L8 (131.0529, 90.8521) -> (131.0529, 59.8521)
  line L9 (131.0529, 59.8521) -> (131.0529, 44.8521)
  circle A2 centre (131.0529, 59.8521) radius 2.385
  circle A3 centre (131.0529, 44.8521) radius 2.385
  line L10 (-122.0581, 90.8521) -> (-141.9471, 90.8521)
  circle A4 centre (-132.0026, 59.8521) radius 2.385
  circle A5 centre (-132.0026, 44.8521) radius 2.385
  line L11 (-141.9471, -91.1479) -> (-131.9471, -91.1479)
  circle A6 centre (-131.9471, -45.1479) radius 2.385
  circle A7 centre (-131.9471, -60.1479) radius 2.385
  point P0 (-141.9471, -91.1479)
  dimension "d119" = 10
  dimension "d126" = 4.77
  dimension "d127" = 4.77
  dimension "d128" = 10
  dimension "d129" = 31
  dimension "d130" = 15
  dimension "d131" = 4.77
  dimension "d132" = 4.77
  dimension "d135" = 4.77
  dimension "d136" = 4.77
  dimension "d140" = 4.77
  dimension "d141" = 4.77
extrude "Extrude27" cut sketch "Sketch23" against normal blind 20 contours A3 | L8 L9 A2 | L8 L9 A2 | A0 | A1 bodies 2
extrude "Extrude28" cut sketch "Sketch23" against normal blind 20 contours A4 | A5 | A6 | A7 bodies 2
sketch "Sketch24" plane through (0, 0, -86.1479) normal (0, 0, 1) x (1, 0, 0)
  line L0 (-121.0529, 8) -> (121.9471, 8)
  line L1 (121.9471, 8) -> (121.9471, 16.6)
  line L2 (121.9471, 16.6) -> (-121.0529, 16.6)
  line L3 (-121.0529, 16.6) -> (-121.0529, 8)
  line L4 (-121.0529, 16.6) -> (-51.0529, 16.6)
  line L5 (-121.0529, 16.6) -> (-104.4529, 16.6)
  line L6 (-104.4529, 16.6) -> (-104.4529, 13.6)
  line L7 (-104.4529, 13.6) -> (-104.4529, 15.1)
  line L8 (-104.4529, 13.6) -> (-104.4529, 12.1)
  line L9 (-104.4529, 15.1) -> (-51.0529, 15.1)
  line L10 (-51.0529, 15.1) -> (-51.0529, 10.4705)
  line L11 (-51.0529, 10.4705) -> (-104.4529, 10.4705)
  line L12 (-104.4529, 10.4705) -> (-104.4529, 15.1)
  dimension "d146" = 70
  dimension "d147" = 16.6
  dimension "d149" = 3
  dimension "d150" = 1.5
  dimension "d151" = 1.5
extrude "Extrude29" cut sketch "Sketch24" against normal blind 3 contours L6 L7 L8 L9 L10 L11 L12 bodies 2
extrude "Extrude30" cut 1 faces at (-86.6529, 12.0137, -89.1479) along direction (0, 0, -1) blind 3 on bodies 2 bodies 2
chamfer "Chamfer3" distance 3 angle 45 4 edges at (-77.7529, 15.1, -91.1479) (-51.0529, 12.7852, -91.1479) (-77.7529, 10.4705, -91.1479) (-104.4529, 12.7852, -91.1479) on bodies 2
sketch "Sketch25" plane through (0, 0, 85.8521) normal (0, 0, -1) x (-1, 0, 0)
  line L0 (-121.9471, 8) -> (121.0529, 8)
  line L1 (121.0529, 8) -> (121.0529, 16.6)
  line L2 (121.0529, 16.6) -> (121.0529, 18.6)
  line L3 (121.0529, 18.6) -> (-122.0581, 18.6)
  line L4 (-122.0581, 18.6) -> (-122.0581, 16.6)
  line L5 (-122.0581, 16.6) -> (-121.9471, 16.6)
  line L6 (-121.9471, 16.6) -> (-121.9471, 8)
  line L7 (-121.9471, 8) -> (-9.9471, 8)
  line L8 (121.0529, 8) -> (9.0529, 8)
  line L9 (9.0529, 8) -> (9.0529, 14.6)
  line L10 (9.0529, 14.6) -> (-9.9471, 14.6)
  line L11 (-9.9471, 14.6) -> (-9.9471, 10.3)
  line L12 (-9.9471, 10.3) -> (9.0529, 10.3)
  line L13 (9.0529, 10.3) -> (9.0529, 14.6)
  dimension "d157" = 112
  dimension "d158" = 112
extrude "Extrude31" cut sketch "Sketch25" against normal blind 5 contours L9 L10 L11 L12 L13 bodies 2
chamfer "Chamfer4" distance 3.8 angle 45 4 edges at (0.4471, 14.6, 90.8521) (-9.0529, 12.45, 90.8521) (0.4471, 10.3, 90.8521) (9.9471, 12.45, 90.8521) on bodies 2
combine "Combine1" operation add target body 2 tool bodies 4 6 5 7
equation "d14 = 8 mm + 8.6 mm"
